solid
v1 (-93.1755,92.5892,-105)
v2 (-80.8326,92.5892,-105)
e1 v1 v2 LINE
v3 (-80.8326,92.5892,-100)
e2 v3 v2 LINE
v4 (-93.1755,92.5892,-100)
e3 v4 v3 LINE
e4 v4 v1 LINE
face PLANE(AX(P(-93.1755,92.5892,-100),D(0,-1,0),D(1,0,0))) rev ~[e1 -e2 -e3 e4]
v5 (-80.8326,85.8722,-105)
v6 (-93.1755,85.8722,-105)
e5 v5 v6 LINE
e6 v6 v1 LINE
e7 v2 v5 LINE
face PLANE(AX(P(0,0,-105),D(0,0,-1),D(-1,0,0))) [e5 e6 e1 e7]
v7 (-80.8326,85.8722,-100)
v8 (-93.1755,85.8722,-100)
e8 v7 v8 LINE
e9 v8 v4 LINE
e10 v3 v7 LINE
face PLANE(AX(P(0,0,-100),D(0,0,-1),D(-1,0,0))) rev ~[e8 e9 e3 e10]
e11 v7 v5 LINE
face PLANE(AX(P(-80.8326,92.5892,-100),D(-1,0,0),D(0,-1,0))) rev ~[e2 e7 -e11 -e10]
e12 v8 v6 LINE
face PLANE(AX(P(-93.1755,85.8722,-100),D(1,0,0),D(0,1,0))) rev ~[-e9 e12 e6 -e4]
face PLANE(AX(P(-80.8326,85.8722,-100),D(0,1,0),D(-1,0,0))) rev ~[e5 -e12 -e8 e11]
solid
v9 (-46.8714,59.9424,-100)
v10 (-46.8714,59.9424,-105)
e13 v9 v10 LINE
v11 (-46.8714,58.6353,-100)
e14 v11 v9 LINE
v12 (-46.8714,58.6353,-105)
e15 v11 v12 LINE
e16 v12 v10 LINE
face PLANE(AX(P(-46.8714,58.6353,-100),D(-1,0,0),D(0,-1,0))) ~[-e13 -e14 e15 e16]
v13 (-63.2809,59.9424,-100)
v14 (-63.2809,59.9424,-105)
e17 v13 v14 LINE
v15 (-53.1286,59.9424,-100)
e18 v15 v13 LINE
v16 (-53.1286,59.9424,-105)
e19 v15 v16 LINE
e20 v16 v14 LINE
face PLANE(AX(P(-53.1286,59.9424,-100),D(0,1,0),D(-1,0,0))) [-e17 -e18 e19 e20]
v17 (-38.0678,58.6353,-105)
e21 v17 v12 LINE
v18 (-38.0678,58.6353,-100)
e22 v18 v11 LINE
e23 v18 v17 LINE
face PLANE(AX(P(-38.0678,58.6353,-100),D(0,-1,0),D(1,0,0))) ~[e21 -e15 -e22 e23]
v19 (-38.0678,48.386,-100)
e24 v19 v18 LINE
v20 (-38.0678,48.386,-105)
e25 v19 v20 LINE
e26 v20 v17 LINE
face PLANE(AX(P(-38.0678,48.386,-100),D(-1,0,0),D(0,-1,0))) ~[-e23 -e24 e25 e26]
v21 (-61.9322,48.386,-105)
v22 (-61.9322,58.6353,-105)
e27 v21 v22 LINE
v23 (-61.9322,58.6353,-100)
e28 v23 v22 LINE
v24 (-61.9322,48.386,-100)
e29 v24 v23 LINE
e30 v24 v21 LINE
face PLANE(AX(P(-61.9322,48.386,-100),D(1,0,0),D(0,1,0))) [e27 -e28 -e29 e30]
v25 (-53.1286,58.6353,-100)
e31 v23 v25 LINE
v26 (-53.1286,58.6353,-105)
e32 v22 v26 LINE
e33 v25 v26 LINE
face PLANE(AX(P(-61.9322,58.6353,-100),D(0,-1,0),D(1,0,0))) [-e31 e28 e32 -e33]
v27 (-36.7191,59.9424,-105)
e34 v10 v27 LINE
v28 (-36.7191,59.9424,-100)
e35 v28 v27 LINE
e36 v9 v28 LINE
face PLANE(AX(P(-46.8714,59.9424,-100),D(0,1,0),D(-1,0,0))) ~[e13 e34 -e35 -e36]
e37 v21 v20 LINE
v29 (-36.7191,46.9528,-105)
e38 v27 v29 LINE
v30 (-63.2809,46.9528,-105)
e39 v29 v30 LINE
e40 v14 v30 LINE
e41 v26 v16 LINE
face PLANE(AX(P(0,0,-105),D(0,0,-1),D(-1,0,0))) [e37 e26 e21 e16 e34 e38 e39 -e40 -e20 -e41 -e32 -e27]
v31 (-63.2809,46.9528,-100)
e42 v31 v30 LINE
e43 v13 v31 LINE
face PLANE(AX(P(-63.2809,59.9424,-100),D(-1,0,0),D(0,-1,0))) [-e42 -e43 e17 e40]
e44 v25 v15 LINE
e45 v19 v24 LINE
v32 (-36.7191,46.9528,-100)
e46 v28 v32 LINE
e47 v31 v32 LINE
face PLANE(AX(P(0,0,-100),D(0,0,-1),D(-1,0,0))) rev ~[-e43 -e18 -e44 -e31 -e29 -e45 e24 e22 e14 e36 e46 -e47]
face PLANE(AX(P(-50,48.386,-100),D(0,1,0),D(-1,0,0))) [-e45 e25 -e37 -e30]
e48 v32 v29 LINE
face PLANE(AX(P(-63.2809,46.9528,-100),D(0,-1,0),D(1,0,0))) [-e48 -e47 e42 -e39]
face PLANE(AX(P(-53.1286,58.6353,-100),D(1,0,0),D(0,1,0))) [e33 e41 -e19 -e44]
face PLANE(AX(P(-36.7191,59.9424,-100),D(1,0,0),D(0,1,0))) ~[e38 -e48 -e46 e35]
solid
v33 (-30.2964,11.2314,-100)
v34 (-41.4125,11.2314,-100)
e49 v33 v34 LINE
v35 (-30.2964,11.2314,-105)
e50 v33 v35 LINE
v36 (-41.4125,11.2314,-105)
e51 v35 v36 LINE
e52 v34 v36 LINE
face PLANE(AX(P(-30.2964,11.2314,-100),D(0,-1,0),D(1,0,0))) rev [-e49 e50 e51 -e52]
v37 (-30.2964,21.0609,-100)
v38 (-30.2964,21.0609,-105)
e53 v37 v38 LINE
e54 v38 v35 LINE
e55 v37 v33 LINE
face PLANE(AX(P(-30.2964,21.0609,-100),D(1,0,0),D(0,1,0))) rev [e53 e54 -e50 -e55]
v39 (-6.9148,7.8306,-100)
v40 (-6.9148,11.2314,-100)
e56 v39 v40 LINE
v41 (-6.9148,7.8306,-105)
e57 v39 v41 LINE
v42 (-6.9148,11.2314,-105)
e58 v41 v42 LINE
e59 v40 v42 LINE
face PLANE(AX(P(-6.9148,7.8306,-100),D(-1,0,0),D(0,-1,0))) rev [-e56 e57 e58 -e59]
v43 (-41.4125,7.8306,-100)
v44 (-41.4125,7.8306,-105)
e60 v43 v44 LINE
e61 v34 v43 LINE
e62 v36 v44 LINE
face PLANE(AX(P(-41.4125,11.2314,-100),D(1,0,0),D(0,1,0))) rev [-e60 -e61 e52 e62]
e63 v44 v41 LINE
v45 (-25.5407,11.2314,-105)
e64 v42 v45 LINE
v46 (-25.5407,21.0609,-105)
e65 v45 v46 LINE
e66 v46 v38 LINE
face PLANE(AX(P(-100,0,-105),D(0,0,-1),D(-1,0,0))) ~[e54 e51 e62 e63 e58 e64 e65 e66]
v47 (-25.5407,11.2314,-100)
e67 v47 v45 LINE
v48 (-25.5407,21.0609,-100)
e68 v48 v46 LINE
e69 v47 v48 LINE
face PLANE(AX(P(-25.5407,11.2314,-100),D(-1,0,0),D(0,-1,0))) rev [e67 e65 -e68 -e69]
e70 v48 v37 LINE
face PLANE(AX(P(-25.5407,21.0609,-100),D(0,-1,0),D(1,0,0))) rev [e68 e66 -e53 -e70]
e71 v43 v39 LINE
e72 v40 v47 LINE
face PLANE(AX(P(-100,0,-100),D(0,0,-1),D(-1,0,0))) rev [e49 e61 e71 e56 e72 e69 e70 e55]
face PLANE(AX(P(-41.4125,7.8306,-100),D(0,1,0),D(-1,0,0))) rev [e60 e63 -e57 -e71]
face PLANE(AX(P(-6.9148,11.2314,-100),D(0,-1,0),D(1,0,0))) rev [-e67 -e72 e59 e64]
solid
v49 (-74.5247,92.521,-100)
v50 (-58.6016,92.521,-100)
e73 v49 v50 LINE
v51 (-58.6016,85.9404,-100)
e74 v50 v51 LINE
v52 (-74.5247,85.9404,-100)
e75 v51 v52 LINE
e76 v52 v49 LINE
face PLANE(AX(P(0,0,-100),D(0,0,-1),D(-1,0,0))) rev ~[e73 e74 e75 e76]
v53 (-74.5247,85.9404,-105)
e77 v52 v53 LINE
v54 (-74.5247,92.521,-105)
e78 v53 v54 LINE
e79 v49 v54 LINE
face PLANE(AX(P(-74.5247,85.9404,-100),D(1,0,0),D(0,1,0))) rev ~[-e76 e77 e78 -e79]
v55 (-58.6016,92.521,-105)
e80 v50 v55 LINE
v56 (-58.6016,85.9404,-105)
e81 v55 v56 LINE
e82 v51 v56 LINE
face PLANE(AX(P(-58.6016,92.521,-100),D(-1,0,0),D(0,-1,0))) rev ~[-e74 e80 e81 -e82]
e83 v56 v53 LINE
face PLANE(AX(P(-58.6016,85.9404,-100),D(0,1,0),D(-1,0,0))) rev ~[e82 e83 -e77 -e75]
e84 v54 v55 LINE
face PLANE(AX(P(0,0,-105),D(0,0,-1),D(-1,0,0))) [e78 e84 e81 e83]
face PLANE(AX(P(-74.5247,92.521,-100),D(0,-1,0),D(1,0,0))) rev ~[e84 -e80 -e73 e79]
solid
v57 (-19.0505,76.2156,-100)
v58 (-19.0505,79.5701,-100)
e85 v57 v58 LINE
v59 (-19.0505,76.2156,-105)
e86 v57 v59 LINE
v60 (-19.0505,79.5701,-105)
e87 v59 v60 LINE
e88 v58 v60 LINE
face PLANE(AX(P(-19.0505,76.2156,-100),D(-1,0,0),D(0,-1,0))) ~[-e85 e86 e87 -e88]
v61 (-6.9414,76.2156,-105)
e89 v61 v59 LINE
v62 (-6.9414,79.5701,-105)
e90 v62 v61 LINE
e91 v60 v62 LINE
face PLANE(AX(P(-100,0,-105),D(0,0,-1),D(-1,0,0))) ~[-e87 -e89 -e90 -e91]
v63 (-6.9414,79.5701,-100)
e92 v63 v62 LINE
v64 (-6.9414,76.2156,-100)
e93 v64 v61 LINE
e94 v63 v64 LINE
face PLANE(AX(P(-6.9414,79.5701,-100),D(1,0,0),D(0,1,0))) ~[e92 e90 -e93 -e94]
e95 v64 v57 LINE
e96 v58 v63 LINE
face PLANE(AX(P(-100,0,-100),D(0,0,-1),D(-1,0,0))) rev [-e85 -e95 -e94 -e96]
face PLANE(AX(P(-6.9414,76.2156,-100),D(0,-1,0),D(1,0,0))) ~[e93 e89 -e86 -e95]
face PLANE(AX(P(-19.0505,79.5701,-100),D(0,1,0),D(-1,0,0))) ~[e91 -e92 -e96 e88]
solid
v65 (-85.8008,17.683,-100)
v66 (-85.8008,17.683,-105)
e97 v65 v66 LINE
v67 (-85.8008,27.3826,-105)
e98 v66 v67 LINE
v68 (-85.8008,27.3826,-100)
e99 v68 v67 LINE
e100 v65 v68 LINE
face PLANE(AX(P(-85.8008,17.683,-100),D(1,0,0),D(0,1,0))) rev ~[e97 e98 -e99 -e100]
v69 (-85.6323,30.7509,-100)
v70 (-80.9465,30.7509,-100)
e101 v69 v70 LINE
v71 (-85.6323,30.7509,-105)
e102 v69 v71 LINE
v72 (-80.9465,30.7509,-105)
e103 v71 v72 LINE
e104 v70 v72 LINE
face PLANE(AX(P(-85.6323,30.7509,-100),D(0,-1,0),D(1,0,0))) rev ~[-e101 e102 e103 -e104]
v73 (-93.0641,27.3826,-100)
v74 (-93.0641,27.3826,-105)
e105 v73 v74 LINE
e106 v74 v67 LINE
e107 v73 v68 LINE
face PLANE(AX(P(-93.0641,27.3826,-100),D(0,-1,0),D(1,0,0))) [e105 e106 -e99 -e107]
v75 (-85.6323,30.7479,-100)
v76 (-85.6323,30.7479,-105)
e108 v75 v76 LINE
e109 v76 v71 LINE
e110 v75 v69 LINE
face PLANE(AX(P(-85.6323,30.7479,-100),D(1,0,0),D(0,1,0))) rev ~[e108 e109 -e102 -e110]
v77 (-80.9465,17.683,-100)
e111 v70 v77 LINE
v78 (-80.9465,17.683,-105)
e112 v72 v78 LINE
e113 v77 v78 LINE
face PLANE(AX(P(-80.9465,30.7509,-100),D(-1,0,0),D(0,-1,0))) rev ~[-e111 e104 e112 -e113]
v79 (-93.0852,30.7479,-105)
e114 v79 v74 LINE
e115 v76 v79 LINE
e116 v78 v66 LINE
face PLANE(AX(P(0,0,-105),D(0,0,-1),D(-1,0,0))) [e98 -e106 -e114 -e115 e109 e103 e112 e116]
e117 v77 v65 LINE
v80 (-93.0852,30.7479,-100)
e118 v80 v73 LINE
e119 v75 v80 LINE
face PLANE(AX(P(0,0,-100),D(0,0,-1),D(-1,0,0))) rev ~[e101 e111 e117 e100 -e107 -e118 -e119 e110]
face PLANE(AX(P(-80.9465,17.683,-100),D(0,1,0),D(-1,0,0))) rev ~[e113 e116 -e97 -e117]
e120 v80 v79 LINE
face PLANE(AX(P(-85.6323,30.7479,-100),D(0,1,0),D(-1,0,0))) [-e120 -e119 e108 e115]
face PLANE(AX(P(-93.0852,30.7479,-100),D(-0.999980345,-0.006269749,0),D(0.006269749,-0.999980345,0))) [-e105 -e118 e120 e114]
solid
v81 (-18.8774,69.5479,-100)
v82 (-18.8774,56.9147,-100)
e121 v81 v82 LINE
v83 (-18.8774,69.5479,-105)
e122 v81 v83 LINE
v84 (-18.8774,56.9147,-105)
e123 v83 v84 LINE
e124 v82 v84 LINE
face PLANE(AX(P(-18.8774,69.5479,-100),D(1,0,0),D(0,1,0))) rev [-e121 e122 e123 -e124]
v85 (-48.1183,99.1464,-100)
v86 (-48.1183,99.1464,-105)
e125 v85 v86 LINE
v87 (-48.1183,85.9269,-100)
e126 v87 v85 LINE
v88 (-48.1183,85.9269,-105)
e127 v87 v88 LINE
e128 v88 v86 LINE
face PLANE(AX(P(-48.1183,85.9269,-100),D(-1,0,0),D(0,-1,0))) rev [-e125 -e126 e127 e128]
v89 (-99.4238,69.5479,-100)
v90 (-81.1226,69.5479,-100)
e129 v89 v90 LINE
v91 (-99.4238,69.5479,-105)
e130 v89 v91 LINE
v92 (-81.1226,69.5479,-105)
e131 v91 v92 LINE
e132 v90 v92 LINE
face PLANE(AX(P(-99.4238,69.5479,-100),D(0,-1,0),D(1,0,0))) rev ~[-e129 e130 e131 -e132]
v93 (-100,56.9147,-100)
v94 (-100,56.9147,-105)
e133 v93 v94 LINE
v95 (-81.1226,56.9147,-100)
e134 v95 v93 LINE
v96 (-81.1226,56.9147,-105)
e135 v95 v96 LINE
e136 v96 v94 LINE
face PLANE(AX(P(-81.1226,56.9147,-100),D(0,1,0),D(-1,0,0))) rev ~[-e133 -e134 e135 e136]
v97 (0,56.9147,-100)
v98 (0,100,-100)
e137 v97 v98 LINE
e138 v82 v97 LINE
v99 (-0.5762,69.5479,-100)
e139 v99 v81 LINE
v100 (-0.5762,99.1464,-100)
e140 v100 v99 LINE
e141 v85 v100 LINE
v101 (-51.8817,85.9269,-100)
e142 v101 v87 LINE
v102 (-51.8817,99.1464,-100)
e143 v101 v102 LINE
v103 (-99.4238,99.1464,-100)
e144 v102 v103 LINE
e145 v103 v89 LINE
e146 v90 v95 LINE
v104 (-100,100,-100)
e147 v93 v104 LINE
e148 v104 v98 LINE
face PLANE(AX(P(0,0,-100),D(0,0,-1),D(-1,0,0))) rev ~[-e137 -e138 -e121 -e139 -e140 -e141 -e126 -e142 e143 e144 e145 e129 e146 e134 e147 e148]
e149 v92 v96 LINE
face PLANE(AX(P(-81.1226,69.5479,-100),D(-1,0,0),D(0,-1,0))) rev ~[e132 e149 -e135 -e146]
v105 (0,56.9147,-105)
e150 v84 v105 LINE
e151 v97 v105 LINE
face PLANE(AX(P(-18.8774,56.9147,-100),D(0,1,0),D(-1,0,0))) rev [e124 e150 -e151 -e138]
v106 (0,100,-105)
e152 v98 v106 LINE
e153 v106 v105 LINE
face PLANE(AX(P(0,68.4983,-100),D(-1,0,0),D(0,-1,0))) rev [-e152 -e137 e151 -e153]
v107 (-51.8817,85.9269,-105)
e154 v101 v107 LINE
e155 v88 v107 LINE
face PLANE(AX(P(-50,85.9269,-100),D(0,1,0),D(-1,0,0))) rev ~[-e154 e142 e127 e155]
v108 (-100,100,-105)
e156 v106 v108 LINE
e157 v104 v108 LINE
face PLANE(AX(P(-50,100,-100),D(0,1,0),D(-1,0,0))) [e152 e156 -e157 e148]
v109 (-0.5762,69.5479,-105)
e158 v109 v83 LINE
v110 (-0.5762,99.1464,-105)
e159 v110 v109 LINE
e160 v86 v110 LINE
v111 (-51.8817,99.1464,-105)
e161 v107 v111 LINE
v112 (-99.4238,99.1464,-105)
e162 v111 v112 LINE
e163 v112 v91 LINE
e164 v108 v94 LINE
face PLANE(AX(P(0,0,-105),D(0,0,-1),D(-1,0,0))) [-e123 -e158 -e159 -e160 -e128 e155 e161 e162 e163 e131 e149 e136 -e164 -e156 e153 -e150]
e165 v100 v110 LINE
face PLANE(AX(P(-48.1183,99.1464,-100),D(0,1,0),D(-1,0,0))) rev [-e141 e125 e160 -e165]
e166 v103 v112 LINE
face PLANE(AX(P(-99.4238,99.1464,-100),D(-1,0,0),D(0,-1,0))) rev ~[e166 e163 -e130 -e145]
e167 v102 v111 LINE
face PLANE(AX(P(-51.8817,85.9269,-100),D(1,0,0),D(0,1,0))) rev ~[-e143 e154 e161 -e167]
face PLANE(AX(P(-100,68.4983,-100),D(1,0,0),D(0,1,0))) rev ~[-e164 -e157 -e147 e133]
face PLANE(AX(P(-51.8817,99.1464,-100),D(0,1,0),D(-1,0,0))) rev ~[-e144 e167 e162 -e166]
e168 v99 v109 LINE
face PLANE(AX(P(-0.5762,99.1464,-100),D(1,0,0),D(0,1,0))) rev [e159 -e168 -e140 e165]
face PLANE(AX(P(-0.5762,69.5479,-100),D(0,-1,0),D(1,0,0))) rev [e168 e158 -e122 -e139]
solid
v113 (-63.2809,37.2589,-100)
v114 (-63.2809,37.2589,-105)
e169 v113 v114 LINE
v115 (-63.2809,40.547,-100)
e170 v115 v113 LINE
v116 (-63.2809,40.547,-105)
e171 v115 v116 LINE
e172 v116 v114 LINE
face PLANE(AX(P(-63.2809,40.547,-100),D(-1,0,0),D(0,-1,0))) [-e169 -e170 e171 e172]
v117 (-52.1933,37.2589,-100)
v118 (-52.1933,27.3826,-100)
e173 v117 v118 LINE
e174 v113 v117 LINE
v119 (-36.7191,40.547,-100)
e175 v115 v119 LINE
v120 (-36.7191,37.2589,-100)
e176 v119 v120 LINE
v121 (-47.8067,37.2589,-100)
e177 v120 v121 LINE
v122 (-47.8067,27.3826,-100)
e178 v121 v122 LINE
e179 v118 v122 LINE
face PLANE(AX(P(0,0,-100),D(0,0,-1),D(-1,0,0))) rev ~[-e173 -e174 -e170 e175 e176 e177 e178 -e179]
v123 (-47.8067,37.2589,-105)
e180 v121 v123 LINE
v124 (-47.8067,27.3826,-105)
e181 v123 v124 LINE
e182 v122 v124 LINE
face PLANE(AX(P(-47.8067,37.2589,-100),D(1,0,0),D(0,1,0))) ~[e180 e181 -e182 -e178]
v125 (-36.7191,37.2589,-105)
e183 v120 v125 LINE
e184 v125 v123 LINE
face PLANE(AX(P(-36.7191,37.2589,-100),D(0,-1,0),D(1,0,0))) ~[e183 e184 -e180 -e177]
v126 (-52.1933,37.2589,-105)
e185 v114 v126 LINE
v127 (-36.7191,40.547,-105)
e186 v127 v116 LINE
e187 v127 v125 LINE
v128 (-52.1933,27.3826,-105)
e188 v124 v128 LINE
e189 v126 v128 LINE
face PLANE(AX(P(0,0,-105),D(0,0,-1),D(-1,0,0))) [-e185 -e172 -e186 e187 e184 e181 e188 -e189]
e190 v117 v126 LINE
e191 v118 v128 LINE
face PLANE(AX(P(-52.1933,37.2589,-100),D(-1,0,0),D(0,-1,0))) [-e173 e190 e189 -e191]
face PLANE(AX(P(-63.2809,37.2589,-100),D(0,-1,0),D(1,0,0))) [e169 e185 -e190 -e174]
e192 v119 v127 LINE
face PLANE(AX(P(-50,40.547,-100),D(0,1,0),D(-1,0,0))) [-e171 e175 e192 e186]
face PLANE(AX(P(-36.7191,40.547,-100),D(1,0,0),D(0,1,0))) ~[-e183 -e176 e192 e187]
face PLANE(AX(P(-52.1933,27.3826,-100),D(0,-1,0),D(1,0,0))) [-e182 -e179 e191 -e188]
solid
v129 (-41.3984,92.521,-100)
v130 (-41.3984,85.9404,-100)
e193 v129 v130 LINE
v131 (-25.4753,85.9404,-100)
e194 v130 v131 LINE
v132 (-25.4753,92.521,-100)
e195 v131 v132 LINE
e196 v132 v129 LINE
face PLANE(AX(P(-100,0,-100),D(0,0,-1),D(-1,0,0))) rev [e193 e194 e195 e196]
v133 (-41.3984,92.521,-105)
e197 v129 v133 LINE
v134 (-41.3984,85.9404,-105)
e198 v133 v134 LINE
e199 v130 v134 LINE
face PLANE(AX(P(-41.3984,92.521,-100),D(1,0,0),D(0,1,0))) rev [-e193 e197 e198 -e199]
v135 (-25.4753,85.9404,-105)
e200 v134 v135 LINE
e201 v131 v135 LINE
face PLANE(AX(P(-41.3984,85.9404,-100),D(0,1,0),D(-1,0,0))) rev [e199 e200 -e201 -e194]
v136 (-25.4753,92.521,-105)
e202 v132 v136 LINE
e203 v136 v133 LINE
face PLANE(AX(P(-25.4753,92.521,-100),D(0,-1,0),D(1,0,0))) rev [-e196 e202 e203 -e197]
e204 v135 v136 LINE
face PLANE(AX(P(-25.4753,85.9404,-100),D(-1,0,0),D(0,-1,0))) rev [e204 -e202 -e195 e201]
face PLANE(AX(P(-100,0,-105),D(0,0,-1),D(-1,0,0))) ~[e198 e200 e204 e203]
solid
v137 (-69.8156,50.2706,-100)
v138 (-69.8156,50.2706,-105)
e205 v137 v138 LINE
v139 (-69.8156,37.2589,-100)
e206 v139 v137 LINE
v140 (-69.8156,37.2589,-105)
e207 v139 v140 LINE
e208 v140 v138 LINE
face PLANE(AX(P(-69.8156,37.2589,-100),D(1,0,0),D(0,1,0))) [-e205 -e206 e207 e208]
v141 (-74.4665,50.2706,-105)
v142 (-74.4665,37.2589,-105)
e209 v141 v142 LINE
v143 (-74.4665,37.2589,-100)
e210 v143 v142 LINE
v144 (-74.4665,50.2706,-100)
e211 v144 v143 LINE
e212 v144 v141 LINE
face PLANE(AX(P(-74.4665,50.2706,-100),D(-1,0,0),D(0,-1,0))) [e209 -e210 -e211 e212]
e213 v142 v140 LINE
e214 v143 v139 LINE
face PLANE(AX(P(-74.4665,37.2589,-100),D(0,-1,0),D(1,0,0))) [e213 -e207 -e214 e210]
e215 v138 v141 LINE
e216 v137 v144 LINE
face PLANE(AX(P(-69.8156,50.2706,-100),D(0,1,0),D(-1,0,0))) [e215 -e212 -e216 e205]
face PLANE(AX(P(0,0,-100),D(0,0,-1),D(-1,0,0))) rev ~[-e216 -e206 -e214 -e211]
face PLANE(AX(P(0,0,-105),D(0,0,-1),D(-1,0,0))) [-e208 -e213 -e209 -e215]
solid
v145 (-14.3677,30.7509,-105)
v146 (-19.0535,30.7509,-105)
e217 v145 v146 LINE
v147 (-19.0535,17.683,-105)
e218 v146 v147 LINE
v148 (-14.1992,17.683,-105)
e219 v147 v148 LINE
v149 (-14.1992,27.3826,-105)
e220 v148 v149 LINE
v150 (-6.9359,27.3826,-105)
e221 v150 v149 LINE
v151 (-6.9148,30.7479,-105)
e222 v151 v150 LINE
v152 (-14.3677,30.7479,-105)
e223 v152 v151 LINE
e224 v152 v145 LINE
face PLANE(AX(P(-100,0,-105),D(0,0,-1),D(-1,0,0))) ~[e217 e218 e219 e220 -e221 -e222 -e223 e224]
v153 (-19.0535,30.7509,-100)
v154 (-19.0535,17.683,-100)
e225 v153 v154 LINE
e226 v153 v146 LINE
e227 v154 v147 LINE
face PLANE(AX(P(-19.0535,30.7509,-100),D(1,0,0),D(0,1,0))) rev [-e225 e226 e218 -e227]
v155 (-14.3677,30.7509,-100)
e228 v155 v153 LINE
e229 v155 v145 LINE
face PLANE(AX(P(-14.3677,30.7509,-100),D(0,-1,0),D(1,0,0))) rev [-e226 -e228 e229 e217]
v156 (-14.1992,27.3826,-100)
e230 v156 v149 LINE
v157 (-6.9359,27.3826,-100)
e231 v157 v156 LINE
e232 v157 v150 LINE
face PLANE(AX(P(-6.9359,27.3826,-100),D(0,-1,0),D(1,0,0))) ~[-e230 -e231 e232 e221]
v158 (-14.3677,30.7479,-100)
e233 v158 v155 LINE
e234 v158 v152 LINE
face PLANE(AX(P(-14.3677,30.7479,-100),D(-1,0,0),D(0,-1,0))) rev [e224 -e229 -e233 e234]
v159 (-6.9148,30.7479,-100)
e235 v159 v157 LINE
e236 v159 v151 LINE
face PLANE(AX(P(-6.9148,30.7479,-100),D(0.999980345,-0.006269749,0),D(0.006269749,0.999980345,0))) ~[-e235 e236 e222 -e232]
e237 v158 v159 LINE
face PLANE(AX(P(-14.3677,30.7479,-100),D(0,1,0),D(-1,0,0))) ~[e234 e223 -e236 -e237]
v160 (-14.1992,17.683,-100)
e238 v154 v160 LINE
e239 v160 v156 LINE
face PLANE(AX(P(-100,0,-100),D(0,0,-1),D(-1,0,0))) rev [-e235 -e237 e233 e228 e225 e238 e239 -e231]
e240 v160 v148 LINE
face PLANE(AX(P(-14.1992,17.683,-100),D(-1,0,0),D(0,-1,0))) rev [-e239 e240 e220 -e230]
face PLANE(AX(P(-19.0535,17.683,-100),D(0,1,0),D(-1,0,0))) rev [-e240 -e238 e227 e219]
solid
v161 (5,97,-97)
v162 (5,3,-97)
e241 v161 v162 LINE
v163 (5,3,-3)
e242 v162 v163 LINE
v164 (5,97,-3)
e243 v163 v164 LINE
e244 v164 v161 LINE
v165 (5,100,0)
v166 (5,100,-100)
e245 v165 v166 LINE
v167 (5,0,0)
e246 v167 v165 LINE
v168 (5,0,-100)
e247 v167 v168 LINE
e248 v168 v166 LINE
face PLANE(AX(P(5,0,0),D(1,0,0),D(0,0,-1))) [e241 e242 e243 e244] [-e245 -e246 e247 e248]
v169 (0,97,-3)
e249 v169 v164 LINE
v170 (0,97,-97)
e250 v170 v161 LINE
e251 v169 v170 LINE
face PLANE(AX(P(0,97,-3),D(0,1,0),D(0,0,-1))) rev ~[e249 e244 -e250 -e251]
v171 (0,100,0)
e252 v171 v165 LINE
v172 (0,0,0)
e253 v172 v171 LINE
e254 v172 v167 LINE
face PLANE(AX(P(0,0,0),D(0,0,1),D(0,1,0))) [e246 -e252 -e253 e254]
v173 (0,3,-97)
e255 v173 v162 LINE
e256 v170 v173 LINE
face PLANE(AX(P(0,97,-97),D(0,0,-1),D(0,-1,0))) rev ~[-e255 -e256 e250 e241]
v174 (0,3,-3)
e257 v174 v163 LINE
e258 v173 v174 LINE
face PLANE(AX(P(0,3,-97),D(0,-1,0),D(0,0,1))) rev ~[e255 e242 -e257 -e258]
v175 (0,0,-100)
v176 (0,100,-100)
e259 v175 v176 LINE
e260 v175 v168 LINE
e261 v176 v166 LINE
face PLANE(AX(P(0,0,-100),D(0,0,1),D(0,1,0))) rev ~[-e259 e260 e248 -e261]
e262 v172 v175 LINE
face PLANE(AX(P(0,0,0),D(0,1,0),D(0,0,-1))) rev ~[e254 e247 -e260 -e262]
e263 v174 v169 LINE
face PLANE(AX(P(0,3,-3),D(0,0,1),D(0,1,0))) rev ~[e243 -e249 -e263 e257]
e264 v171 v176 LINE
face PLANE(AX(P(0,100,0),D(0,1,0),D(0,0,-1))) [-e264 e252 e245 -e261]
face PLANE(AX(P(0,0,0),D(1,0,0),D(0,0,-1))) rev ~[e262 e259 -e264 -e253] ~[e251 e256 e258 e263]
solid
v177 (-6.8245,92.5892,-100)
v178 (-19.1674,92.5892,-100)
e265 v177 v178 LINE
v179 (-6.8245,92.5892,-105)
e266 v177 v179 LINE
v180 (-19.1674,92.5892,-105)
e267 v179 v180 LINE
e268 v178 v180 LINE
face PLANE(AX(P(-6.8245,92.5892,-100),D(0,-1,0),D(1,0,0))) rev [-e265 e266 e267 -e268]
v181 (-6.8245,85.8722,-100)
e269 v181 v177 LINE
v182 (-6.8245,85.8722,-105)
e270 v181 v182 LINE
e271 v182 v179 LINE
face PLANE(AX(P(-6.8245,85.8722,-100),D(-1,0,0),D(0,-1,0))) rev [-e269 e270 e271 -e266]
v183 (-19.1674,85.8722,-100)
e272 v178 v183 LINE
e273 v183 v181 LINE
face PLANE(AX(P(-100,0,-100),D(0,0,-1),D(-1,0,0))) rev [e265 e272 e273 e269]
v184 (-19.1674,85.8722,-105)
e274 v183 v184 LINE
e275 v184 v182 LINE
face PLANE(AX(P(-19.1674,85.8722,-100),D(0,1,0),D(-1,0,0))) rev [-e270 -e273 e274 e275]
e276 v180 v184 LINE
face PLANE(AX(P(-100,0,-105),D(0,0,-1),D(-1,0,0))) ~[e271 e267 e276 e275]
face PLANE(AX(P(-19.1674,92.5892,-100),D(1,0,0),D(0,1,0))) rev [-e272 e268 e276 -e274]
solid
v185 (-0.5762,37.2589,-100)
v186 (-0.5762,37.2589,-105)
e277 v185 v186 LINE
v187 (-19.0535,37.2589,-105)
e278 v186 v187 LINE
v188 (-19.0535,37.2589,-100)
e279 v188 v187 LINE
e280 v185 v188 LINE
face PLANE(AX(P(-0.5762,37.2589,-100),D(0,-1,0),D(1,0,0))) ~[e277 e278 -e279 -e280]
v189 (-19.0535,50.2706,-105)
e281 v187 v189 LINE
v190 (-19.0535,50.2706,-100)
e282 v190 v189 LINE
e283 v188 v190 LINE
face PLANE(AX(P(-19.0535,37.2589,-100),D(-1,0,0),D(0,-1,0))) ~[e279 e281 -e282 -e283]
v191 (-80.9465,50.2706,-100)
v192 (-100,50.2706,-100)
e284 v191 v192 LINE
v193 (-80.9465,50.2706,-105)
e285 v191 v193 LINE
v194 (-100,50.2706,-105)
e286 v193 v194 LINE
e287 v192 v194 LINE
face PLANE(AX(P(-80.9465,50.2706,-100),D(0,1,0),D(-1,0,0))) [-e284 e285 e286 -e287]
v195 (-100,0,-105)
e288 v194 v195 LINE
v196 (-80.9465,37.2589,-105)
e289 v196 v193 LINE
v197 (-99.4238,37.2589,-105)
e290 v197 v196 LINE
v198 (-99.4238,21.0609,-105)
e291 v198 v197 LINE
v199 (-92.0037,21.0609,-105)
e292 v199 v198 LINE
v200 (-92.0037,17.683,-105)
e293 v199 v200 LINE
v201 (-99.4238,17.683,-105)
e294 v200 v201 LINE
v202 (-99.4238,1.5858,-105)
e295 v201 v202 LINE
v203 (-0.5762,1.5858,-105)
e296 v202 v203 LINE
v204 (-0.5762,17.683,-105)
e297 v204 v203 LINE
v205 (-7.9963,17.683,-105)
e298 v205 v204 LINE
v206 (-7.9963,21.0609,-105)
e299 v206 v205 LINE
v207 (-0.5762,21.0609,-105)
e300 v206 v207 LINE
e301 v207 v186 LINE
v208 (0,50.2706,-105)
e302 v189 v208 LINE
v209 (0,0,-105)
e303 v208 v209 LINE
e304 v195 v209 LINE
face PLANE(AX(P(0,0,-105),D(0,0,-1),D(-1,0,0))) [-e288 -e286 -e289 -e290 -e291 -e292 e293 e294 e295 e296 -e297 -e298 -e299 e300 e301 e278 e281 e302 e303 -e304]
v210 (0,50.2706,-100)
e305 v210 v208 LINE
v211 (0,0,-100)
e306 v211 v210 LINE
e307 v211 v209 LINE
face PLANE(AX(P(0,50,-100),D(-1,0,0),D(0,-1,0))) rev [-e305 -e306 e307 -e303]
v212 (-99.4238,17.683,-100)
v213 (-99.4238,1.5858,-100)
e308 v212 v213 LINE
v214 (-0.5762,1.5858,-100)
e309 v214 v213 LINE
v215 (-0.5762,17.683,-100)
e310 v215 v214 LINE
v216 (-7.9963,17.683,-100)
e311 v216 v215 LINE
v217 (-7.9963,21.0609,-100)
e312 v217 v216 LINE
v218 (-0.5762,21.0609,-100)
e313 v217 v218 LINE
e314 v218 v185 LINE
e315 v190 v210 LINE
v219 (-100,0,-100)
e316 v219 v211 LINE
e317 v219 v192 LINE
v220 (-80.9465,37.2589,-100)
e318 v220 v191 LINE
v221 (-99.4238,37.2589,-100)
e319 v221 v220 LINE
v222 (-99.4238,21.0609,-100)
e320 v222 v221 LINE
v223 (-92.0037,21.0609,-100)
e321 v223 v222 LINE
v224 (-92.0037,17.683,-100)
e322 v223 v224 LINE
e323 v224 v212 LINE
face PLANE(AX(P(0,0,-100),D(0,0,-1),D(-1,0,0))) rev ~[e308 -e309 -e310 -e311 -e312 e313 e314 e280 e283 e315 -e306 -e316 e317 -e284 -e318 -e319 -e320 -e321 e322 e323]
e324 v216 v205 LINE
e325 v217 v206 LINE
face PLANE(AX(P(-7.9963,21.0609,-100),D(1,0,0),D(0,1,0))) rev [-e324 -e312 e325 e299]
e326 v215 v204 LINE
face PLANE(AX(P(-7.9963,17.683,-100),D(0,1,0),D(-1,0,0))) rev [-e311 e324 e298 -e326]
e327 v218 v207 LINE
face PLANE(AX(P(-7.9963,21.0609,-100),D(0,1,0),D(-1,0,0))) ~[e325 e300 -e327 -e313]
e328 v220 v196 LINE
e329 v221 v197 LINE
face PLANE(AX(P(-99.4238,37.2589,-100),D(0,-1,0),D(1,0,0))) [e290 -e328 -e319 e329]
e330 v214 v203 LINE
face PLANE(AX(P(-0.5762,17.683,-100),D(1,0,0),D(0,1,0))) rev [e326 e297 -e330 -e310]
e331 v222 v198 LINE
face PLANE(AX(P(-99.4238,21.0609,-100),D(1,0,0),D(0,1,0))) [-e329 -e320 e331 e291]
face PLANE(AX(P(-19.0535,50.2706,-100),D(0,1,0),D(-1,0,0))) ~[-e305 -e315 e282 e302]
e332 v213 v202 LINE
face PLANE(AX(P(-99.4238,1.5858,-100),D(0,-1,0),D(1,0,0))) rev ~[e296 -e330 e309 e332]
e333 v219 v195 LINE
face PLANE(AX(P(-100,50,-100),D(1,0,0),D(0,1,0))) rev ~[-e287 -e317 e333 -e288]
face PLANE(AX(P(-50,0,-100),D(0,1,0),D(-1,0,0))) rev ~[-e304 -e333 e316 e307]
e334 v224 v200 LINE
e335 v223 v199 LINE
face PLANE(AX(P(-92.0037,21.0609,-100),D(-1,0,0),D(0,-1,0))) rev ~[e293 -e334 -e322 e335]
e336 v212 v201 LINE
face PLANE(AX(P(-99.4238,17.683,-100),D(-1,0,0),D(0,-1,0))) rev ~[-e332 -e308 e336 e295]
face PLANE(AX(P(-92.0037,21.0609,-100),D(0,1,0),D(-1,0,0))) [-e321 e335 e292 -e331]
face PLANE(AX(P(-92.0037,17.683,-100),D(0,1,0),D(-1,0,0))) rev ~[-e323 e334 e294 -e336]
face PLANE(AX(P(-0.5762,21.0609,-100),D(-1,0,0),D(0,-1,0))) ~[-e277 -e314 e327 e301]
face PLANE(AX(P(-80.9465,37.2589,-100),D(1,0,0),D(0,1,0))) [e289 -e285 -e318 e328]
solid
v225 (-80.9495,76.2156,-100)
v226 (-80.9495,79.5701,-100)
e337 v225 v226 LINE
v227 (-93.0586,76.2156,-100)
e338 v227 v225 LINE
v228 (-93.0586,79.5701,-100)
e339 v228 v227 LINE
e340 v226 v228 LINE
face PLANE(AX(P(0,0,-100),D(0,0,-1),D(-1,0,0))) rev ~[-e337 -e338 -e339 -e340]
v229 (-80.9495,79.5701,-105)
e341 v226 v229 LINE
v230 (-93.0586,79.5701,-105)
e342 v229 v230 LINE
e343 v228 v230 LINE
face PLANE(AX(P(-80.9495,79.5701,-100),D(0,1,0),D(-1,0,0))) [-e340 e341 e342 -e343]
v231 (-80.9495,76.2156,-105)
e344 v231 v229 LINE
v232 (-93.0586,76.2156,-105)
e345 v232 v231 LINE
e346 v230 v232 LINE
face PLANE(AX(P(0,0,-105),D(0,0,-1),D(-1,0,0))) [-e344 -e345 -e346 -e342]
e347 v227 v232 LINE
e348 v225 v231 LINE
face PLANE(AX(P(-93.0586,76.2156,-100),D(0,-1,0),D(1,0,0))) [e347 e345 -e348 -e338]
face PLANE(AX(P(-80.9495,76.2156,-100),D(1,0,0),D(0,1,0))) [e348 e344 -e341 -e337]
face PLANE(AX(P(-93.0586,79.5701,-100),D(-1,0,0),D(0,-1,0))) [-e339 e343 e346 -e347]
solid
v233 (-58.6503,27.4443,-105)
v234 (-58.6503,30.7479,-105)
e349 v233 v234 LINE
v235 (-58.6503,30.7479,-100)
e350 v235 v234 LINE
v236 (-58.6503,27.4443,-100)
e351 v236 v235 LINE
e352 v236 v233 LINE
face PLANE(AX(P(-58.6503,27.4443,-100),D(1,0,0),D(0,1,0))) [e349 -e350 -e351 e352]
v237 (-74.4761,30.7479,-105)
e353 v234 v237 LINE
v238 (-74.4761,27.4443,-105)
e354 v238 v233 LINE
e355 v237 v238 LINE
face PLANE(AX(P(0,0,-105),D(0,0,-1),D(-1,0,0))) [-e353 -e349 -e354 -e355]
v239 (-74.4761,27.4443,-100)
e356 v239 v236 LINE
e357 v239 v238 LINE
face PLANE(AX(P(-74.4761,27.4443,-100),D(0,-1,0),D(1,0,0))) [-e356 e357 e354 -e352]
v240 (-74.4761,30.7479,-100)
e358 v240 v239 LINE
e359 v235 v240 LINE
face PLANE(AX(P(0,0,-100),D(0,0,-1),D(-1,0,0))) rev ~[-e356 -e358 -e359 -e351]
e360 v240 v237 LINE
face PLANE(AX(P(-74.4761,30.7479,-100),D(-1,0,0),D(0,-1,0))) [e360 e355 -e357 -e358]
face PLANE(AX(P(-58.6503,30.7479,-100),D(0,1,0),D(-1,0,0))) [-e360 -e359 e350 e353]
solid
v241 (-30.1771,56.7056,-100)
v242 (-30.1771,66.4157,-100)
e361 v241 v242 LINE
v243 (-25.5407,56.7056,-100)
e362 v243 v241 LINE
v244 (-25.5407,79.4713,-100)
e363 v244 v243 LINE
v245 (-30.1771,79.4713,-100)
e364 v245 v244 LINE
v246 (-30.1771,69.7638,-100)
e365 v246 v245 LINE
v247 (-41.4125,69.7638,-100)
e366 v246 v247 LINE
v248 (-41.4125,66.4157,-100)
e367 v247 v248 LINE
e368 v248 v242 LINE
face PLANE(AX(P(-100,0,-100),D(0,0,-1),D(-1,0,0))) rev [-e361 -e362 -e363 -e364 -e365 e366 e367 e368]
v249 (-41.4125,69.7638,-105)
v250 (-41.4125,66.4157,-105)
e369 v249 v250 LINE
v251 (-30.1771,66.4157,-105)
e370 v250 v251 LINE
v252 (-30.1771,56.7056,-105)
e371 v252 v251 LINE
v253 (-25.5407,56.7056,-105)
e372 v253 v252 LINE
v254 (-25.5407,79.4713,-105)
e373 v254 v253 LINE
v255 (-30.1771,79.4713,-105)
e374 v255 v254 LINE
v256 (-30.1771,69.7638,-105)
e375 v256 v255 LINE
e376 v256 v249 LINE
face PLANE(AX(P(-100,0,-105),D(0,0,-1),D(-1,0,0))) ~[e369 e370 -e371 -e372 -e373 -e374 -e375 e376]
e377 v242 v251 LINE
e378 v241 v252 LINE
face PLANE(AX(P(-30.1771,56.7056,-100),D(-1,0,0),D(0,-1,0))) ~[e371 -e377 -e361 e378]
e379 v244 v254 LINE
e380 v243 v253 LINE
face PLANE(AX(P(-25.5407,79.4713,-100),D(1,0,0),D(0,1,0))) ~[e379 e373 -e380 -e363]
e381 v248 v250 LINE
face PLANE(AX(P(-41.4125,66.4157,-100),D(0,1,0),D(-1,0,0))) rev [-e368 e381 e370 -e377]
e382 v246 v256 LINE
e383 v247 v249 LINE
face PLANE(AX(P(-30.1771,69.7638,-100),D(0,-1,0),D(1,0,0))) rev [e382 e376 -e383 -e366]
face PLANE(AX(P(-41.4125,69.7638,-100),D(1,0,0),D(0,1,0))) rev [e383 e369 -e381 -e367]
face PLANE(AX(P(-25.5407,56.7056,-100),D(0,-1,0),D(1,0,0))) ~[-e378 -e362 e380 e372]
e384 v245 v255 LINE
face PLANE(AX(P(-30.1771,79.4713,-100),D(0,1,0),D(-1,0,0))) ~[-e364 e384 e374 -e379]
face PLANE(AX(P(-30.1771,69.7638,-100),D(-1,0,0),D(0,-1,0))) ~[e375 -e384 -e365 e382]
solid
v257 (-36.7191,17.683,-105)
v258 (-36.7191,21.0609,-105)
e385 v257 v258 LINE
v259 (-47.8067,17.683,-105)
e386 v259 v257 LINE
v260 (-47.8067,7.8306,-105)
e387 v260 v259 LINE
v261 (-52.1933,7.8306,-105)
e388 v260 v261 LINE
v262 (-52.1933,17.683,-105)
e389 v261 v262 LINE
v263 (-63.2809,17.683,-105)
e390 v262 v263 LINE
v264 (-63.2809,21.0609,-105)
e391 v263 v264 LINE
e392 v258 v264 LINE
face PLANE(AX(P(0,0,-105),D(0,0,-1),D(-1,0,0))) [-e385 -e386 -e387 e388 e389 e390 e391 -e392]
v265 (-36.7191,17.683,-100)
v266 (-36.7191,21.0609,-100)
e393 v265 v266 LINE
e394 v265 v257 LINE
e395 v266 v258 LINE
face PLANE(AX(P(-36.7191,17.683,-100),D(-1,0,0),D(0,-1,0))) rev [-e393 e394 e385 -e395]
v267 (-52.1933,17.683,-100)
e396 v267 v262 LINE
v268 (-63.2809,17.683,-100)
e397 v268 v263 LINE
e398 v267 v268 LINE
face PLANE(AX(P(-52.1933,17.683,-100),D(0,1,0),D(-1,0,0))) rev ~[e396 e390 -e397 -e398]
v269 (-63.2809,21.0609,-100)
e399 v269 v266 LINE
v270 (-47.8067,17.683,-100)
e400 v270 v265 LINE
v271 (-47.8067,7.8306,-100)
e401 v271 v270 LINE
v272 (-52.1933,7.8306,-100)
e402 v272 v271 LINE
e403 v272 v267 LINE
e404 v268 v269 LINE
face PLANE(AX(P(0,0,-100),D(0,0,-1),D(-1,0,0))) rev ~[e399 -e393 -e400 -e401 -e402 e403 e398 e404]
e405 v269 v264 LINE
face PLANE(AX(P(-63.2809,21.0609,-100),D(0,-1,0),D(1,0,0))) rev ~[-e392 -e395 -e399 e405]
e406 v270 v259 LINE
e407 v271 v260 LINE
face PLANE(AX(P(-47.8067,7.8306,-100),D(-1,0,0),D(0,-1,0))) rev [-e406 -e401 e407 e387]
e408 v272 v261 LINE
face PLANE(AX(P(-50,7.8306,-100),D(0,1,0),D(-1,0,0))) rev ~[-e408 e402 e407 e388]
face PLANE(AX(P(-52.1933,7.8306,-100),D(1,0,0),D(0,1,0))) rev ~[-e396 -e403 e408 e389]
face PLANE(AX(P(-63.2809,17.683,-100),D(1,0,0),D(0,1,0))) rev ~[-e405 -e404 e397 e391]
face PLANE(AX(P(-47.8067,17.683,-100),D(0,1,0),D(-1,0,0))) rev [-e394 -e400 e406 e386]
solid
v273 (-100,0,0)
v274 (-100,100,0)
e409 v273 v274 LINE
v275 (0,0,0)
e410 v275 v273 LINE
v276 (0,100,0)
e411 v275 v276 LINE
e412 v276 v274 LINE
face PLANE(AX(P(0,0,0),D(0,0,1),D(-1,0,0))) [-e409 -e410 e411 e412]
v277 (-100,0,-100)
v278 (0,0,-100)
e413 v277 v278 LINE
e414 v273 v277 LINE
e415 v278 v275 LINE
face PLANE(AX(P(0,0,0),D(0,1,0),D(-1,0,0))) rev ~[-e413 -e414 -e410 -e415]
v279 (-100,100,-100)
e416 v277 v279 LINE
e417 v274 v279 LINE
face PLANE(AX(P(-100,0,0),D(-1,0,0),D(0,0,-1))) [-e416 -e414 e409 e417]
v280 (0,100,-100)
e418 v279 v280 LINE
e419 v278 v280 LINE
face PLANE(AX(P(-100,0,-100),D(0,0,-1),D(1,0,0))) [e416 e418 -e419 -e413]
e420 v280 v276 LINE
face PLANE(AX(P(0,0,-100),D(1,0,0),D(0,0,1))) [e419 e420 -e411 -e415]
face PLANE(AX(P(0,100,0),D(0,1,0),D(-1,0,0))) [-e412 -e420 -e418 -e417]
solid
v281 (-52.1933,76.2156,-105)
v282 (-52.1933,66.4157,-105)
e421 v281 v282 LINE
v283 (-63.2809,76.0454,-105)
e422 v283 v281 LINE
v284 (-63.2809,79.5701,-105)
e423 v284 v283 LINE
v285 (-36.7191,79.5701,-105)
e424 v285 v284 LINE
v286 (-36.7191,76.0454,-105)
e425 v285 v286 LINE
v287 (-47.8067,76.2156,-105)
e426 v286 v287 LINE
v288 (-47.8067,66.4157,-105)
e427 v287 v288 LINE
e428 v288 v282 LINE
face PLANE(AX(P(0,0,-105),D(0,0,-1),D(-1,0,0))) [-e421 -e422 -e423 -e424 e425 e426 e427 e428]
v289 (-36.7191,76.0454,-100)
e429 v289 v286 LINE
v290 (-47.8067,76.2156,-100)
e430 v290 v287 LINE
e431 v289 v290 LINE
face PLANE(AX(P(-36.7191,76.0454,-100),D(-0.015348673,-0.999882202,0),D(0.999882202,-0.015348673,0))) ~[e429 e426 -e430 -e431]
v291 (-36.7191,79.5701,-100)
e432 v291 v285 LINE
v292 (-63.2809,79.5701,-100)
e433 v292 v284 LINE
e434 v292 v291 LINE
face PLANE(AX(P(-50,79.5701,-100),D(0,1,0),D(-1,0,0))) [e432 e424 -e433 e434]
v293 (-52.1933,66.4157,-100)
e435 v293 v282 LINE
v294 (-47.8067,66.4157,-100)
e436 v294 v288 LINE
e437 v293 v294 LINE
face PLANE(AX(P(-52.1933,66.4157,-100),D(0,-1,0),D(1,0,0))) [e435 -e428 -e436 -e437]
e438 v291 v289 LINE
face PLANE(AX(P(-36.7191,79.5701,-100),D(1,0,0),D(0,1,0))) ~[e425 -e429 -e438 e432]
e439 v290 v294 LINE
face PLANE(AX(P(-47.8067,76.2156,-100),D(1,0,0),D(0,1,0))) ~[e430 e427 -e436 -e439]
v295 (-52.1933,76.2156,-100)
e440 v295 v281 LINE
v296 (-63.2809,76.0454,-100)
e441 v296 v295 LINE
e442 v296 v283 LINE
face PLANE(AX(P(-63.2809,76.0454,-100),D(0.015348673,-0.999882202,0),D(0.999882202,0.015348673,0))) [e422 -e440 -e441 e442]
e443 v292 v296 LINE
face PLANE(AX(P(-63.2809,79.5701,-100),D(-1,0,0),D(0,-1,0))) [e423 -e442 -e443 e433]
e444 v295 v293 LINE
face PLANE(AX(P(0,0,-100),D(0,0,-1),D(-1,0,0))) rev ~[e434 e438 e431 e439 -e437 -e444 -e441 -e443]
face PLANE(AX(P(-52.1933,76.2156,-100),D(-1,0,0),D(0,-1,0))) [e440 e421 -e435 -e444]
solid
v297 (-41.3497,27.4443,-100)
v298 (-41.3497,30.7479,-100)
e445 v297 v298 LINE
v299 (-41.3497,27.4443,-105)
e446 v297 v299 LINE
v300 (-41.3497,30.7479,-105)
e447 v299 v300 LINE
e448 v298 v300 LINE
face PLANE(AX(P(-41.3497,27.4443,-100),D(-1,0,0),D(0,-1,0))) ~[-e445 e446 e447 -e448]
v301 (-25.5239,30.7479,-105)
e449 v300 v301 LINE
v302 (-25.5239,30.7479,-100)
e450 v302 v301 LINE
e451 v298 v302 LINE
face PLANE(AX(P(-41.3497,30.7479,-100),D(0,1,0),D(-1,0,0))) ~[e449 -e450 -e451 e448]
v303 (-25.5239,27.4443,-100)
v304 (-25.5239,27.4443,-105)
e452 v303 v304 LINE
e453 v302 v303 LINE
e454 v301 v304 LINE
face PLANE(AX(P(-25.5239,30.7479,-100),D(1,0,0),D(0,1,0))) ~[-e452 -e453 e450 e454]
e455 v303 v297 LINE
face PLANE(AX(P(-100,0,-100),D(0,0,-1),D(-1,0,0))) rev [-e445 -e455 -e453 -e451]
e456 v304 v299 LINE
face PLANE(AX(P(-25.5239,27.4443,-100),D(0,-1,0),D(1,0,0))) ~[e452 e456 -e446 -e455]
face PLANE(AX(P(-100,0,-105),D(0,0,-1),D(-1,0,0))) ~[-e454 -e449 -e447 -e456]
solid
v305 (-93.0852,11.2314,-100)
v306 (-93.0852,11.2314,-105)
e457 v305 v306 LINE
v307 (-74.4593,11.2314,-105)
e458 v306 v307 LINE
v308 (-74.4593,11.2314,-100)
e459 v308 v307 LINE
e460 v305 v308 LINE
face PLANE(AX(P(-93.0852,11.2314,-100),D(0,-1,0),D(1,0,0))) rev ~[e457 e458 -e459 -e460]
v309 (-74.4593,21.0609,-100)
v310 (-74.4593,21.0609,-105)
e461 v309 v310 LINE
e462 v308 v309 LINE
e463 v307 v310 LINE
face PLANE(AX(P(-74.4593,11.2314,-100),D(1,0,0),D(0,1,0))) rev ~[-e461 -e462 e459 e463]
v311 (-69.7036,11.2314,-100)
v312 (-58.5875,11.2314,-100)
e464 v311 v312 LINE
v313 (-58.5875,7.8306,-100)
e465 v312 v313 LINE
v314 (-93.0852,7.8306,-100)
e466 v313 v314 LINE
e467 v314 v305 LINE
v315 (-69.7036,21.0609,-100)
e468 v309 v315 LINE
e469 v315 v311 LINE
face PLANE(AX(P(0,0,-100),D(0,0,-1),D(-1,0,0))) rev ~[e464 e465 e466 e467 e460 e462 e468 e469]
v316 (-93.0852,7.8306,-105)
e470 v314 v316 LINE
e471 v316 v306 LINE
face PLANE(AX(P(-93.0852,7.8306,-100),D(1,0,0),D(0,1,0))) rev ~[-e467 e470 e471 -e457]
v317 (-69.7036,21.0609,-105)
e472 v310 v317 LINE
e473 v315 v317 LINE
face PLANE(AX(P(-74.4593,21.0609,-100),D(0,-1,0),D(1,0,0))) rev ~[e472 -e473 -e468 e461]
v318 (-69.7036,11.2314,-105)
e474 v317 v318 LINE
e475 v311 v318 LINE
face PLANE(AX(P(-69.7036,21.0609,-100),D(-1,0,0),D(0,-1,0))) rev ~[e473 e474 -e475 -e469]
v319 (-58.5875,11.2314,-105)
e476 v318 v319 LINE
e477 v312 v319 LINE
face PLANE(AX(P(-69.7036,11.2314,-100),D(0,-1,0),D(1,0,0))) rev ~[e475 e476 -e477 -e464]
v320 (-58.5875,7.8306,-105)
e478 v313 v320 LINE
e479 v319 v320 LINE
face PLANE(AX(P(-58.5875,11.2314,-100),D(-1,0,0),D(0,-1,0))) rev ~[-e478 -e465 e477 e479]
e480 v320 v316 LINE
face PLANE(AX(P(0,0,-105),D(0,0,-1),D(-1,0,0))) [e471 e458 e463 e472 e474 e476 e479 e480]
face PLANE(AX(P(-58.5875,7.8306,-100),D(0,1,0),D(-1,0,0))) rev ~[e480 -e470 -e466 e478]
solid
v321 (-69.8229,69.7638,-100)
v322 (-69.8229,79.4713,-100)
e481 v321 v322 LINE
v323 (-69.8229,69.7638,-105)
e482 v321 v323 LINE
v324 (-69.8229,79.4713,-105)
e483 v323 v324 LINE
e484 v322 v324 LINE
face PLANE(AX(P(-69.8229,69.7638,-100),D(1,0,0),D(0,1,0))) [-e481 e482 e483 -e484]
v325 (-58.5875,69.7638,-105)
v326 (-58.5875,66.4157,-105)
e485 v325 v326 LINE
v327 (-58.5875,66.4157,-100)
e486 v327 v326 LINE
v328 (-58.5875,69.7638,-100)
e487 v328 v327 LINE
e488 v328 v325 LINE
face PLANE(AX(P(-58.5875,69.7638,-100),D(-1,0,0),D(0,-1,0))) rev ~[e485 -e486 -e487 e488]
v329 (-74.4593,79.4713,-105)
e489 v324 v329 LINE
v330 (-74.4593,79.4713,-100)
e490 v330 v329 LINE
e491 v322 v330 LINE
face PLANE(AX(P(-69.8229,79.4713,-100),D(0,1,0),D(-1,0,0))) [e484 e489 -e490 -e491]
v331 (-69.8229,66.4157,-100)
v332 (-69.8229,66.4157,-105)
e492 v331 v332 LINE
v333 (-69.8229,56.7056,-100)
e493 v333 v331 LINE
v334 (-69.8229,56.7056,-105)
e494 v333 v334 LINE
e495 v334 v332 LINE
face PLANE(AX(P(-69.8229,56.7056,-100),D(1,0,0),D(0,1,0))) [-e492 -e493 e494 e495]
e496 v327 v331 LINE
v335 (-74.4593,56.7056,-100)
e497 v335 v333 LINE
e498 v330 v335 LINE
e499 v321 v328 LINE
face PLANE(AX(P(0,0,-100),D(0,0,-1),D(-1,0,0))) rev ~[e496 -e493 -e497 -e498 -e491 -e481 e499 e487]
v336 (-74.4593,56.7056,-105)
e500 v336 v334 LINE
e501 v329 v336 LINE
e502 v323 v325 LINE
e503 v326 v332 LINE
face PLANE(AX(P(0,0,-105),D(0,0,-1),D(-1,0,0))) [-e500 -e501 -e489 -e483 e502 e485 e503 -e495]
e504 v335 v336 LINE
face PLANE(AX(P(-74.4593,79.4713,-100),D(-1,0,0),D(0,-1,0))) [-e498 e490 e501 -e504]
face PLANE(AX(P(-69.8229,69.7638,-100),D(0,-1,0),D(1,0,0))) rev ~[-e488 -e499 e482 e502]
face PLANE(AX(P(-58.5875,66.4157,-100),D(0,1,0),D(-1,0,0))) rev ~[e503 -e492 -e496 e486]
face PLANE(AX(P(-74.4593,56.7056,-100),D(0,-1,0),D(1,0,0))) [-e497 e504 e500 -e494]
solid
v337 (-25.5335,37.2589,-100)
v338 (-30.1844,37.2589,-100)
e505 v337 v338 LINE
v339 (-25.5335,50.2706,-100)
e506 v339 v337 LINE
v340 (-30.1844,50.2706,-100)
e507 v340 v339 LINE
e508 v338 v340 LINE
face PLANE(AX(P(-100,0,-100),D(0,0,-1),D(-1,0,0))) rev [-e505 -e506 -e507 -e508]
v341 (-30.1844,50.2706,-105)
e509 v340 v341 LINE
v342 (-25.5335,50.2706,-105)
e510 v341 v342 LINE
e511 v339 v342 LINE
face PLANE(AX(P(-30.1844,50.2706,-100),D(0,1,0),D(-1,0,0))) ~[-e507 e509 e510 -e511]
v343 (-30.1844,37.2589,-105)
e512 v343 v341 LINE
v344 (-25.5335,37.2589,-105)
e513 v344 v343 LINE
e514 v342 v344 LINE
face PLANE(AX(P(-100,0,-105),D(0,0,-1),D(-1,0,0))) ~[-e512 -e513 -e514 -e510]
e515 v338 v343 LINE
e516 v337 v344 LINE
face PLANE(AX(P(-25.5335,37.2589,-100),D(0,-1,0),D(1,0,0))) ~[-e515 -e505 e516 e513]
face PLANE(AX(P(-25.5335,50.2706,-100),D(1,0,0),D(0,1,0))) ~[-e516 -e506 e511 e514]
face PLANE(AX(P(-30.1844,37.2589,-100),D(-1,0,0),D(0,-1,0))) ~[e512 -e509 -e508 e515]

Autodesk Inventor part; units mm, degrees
ref_plane "YZ Plane" through (0, 0, 0) normal (1, 0, 0) x (0, 1, 0)
ref_plane "XZ Plane" through (0, 0, 0) normal (0, 1, 0) x (-1, 0, 0)
sketch "Эскиз1" plane through (0, 0, 0) normal (0, 1, 0) x (-1, 0, 0)
  line L0 (0, 0) -> (100, 0)
  line L1 (100, 0) -> (100, -100)
  line L2 (100, -100) -> (0, -100)
  line L3 (0, -100) -> (0, 0)
  dimension "d0" = 100
  dimension "d1" = 100
extrude "Выдавливание1" add sketch "Эскиз1" along normal blind 100
sketch "Эскиз2" plane through (0, 0, 0) normal (1, 0, 0) x (0, 0, -1)
  line L0 (0, 0) -> (100, 0) projected
  line L1 (100, 0) -> (100, 100) projected
  line L2 (0, 100) -> (100, 100) projected
  line L3 (0, 0) -> (0, 100) projected
  line L4 (97, 97) -> (97, 3)
  line L5 (97, 3) -> (3, 3)
  line L6 (3, 3) -> (3, 97)
  line L7 (3, 97) -> (97, 97)
  dimension "d4" = 3
extrude "Выдавливание2" add sketch "Эскиз2" along normal blind 5 separate body
sketch "Эскиз3" plane through (0, 0, -100) normal (0, 0, -1) x (-1, 0, 0)
  line L0 (-25.4002, 113.6214) -> (124.5998, 113.6214) construction
  line L1 (124.5998, 113.6214) -> (124.5998, -8.2826) construction
  line L2 (124.5998, -8.2826) -> (-25.4002, -8.2826) construction
  line L3 (-25.4002, -8.2826) -> (-25.4002, 113.6214) construction
  line L4 (0, 100) -> (100, 100) projected
  line L5 (50, 100) -> (50, 0) construction
  line L6 (0, 0) -> (100, 0) projected
  line L7 (50, 85.9269) -> (51.8817, 85.9269)
  line L8 (51.8817, 85.9269) -> (51.8817, 99.1464)
  line L9 (51.8817, 99.1464) -> (99.4238, 99.1464)
  line L10 (99.4238, 99.1464) -> (99.4238, 69.5479)
  line L11 (99.4238, 69.5479) -> (81.1226, 69.5479)
  line L12 (81.1226, 69.5479) -> (81.1226, 56.9147)
  line L13 (81.1226, 56.9147) -> (100, 56.9147)
  line L14 (100, 0) -> (100, 100) projected
  line L15 (100, 57.8646) -> (82.0334, 57.8646)
  line L16 (82.0334, 57.8646) -> (82.0334, 68.6776)
  line L17 (82.0334, 68.6776) -> (100, 68.4983)
  line L18 (100, 68.4983) -> (100, 100)
  line L19 (100, 100) -> (50, 100)
  line L20 (59.3518, 91.7709) -> (73.7746, 91.7709)
  line L21 (73.7746, 91.7709) -> (73.7746, 86.6905)
  line L22 (73.7746, 86.6905) -> (59.3518, 86.6905)
  line L23 (59.3518, 86.6905) -> (59.3518, 91.7709)
  line L24 (81.6509, 91.7709) -> (92.3572, 91.7709)
  line L25 (92.3572, 91.7709) -> (92.3572, 86.6905)
  line L26 (92.3572, 86.6905) -> (81.6509, 86.6905)
  line L27 (81.6509, 86.6905) -> (81.6509, 91.7709)
  line L28 (74.5247, 92.521) -> (58.6016, 92.521)
  line L29 (58.6016, 92.521) -> (58.6016, 85.9404)
  line L30 (58.6016, 85.9404) -> (74.5247, 85.9404)
  line L31 (74.5247, 85.9404) -> (74.5247, 92.521)
  line L32 (93.1755, 92.5892) -> (80.8326, 92.5892)
  line L33 (80.8326, 92.5892) -> (80.8326, 85.8722)
  line L34 (80.8326, 85.8722) -> (93.1755, 85.8722)
  line L35 (93.1755, 85.8722) -> (93.1755, 92.5892)
  line L36 (81.6509, 76.917) -> (92.3572, 76.917)
  line L37 (92.3572, 76.917) -> (92.3572, 78.8687)
  line L38 (92.3572, 78.8687) -> (81.6509, 78.8687)
  line L39 (81.6509, 78.8687) -> (81.6509, 76.917)
  line L40 (80.9495, 79.5701) -> (93.0586, 79.5701)
  line L41 (93.0586, 79.5701) -> (93.0586, 76.2156)
  line L42 (93.0586, 76.2156) -> (80.9495, 76.2156)
  line L43 (80.9495, 76.2156) -> (80.9495, 79.5701)
  line L44 (70.5075, 37.9508) -> (73.7746, 37.9508)
  line L45 (73.7746, 37.9508) -> (73.7746, 49.5787)
  line L46 (73.7746, 49.5787) -> (70.5075, 49.5787)
  line L47 (70.5075, 49.5787) -> (70.5075, 37.9508)
  line L48 (74.4665, 50.2706) -> (74.4665, 37.2589)
  line L49 (74.4665, 37.2589) -> (69.8156, 37.2589)
  line L50 (69.8156, 37.2589) -> (69.8156, 50.2706)
  line L51 (69.8156, 50.2706) -> (74.4665, 50.2706)
  line L52 (59.3518, 28.1457) -> (73.7746, 28.1457)
  line L53 (73.7746, 28.1457) -> (73.7746, 30.0465)
  line L54 (73.7746, 30.0465) -> (59.3518, 30.0465)
  line L55 (59.3518, 30.0465) -> (59.3518, 28.1457)
  line L56 (58.6503, 30.7479) -> (74.4761, 30.7479)
  line L57 (74.4761, 30.7479) -> (74.4761, 27.4443)
  line L58 (74.4761, 27.4443) -> (58.6503, 27.4443)
  line L59 (58.6503, 27.4443) -> (58.6503, 30.7479)
  line L60 (70.5075, 78.7866) -> (73.7746, 78.7866)
  line L61 (73.7746, 78.7866) -> (73.7746, 57.3903)
  line L62 (73.7746, 57.3903) -> (70.5075, 57.3903)
  line L63 (70.5075, 57.3903) -> (70.5075, 78.7866)
  line L64 (70.5075, 68.9995) -> (70.5075, 67.18)
  line L65 (69.8229, 79.4713) -> (74.4593, 79.4713)
  line L66 (74.4593, 79.4713) -> (74.4593, 56.7056)
  line L67 (74.4593, 56.7056) -> (69.8229, 56.7056)
  line L68 (69.8229, 69.7638) -> (58.5875, 69.7638)
  line L69 (58.5875, 69.7638) -> (58.5875, 66.4157)
  line L70 (58.5875, 66.4157) -> (69.8229, 66.4157)
  line L71 (69.8229, 56.7056) -> (69.8229, 66.4157)
  line L72 (69.8229, 69.7638) -> (69.8229, 79.4713)
  line L73 (85.6323, 30.7509) -> (80.9465, 30.7509)
  line L74 (80.9465, 30.7509) -> (80.9465, 17.683)
  line L75 (80.9465, 17.683) -> (85.8008, 17.683)
  line L76 (85.6323, 30.7479) -> (93.0852, 30.7479)
  line L77 (93.0852, 30.7479) -> (93.0641, 27.3826)
  line L78 (93.0641, 27.3826) -> (85.8008, 27.3826)
  line L79 (85.8008, 17.683) -> (85.8008, 27.3826)
  line L80 (85.6323, 30.7479) -> (85.6323, 30.7509)
  line L81 (74.4593, 21.0609) -> (69.7036, 21.0609)
  line L82 (69.7036, 21.0609) -> (69.7036, 11.2314)
  line L83 (69.7036, 11.2314) -> (58.5875, 11.2314)
  line L84 (58.5875, 11.2314) -> (58.5875, 7.8306)
  line L85 (58.5875, 7.8306) -> (93.0852, 7.8306)
  line L86 (93.0852, 7.8306) -> (93.0852, 11.2314)
  line L87 (93.0852, 11.2314) -> (74.4593, 11.2314)
  line L88 (74.4593, 11.2314) -> (74.4593, 21.0609)
  line L89 (92.0037, 21.0609) -> (92.0037, 17.683)
  line L90 (92.0037, 17.683) -> (99.4238, 17.683)
  line L91 (99.4238, 17.683) -> (99.4238, 1.5858)
  line L92 (99.4238, 1.5858) -> (50, 1.5858)
  line L93 (92.0037, 21.0609) -> (99.4238, 21.0609)
  line L94 (99.4238, 21.0609) -> (99.4238, 37.2589)
  line L95 (99.4238, 37.2589) -> (80.9465, 37.2589)
  line L96 (80.9465, 37.2589) -> (80.9465, 50.2706)
  line L97 (80.9465, 50.2706) -> (100, 50.2706)
  line L98 (100, 56.9147) -> (100, 57.8646)
  line L99 (50, 1.5858) -> (50, 0)
  line L100 (50, 0) -> (100, 0)
  line L101 (100, 0) -> (100, 50)
  line L102 (50, 85.9269) -> (50, 100)
  line L103 (53.1286, 59.9424) -> (63.2809, 59.9424)
  line L104 (63.2809, 59.9424) -> (63.2809, 46.9528)
  line L105 (63.2809, 46.9528) -> (50, 46.9528)
  line L106 (50, 46.9528) -> (50, 48.386)
  line L107 (50, 48.386) -> (61.9322, 48.386)
  line L108 (61.9322, 48.386) -> (61.9322, 58.6353)
  line L109 (61.9322, 58.6353) -> (53.1286, 58.6353)
  line L110 (53.1286, 58.6353) -> (53.1286, 59.9424)
  line L111 (50, 79.5701) -> (63.2809, 79.5701)
  line L112 (63.2809, 79.5701) -> (63.2809, 76.0454)
  line L113 (63.2809, 76.0454) -> (52.1933, 76.2156)
  line L114 (52.1933, 76.2156) -> (52.1933, 66.4157)
  line L115 (52.1933, 66.4157) -> (50, 66.4157)
  line L116 (50, 66.4157) -> (50, 79.5701)
  line L117 (50, 7.8306) -> (52.1933, 7.8306)
  line L118 (52.1933, 7.8306) -> (52.1933, 17.683)
  line L119 (52.1933, 17.683) -> (63.2809, 17.683)
  line L120 (63.2809, 17.683) -> (63.2809, 21.0609)
  line L121 (63.2809, 21.0609) -> (50, 21.0609)
  line L122 (50, 7.8306) -> (50, 21.0609)
  line L123 (50, 40.547) -> (63.2809, 40.547)
  line L124 (63.2809, 40.547) -> (63.2809, 37.2589)
  line L125 (63.2809, 37.2589) -> (52.1933, 37.2589)
  line L126 (52.1933, 37.2589) -> (52.1933, 27.3826)
  line L127 (52.1933, 27.3826) -> (50, 27.3826)
  line L128 (50, 27.3826) -> (50, 40.547)
  dimension "d12" = 150
  dimension "d16" = 121.904
extrude "Выдавливание3" add sketch "Эскиз3" along normal blind 5 separate body contours L14 L6 L99 L92 L91 L90 L89 L93 L94 L95 L96 L97 | L4 L14 L17 L16 L15 L13 L12 L11 L10 L9 L8 L7 L102 | L14 L15 L16 L17 | L20 L21 L22 L23 | L24 L25 L26 L27 | L31 L30 L29 L28 | L35 L34 L33 L32 | L39 L38 L37 L36 | L40 L41 L42 L43 | L47 L46 L45 L44 | L48 L49 L50 L51 | L55 L54 L53 L52 | L56 L57 L58 L59 | L60 L61 L62 L63 | L65 L66 L67 L71 L70 L69 L68 L72 | L80 L76 L77 L78 L79 L75 L74 L73 | L88 L87 L86 L85 L84 L83 L82 L81 | L103 L104 L105 L106 L107 L108 L109 L110 | L111 L112 L113 L114 L115 L116 | L122 L121 L120 L119 L118 L117 | L123 L124 L125 L126 L127 L128
ref_plane "РабПлоскость1" through (-50, 0, -100) normal (-1, 0, 0) x (0, 0, 1)
mirror "Зеркальное отражение1" about plane through (-50, 0, -100) normal (-1, 0, 0) of "Выдавливание3" bodies 3
properties part number "куб для форжа"
